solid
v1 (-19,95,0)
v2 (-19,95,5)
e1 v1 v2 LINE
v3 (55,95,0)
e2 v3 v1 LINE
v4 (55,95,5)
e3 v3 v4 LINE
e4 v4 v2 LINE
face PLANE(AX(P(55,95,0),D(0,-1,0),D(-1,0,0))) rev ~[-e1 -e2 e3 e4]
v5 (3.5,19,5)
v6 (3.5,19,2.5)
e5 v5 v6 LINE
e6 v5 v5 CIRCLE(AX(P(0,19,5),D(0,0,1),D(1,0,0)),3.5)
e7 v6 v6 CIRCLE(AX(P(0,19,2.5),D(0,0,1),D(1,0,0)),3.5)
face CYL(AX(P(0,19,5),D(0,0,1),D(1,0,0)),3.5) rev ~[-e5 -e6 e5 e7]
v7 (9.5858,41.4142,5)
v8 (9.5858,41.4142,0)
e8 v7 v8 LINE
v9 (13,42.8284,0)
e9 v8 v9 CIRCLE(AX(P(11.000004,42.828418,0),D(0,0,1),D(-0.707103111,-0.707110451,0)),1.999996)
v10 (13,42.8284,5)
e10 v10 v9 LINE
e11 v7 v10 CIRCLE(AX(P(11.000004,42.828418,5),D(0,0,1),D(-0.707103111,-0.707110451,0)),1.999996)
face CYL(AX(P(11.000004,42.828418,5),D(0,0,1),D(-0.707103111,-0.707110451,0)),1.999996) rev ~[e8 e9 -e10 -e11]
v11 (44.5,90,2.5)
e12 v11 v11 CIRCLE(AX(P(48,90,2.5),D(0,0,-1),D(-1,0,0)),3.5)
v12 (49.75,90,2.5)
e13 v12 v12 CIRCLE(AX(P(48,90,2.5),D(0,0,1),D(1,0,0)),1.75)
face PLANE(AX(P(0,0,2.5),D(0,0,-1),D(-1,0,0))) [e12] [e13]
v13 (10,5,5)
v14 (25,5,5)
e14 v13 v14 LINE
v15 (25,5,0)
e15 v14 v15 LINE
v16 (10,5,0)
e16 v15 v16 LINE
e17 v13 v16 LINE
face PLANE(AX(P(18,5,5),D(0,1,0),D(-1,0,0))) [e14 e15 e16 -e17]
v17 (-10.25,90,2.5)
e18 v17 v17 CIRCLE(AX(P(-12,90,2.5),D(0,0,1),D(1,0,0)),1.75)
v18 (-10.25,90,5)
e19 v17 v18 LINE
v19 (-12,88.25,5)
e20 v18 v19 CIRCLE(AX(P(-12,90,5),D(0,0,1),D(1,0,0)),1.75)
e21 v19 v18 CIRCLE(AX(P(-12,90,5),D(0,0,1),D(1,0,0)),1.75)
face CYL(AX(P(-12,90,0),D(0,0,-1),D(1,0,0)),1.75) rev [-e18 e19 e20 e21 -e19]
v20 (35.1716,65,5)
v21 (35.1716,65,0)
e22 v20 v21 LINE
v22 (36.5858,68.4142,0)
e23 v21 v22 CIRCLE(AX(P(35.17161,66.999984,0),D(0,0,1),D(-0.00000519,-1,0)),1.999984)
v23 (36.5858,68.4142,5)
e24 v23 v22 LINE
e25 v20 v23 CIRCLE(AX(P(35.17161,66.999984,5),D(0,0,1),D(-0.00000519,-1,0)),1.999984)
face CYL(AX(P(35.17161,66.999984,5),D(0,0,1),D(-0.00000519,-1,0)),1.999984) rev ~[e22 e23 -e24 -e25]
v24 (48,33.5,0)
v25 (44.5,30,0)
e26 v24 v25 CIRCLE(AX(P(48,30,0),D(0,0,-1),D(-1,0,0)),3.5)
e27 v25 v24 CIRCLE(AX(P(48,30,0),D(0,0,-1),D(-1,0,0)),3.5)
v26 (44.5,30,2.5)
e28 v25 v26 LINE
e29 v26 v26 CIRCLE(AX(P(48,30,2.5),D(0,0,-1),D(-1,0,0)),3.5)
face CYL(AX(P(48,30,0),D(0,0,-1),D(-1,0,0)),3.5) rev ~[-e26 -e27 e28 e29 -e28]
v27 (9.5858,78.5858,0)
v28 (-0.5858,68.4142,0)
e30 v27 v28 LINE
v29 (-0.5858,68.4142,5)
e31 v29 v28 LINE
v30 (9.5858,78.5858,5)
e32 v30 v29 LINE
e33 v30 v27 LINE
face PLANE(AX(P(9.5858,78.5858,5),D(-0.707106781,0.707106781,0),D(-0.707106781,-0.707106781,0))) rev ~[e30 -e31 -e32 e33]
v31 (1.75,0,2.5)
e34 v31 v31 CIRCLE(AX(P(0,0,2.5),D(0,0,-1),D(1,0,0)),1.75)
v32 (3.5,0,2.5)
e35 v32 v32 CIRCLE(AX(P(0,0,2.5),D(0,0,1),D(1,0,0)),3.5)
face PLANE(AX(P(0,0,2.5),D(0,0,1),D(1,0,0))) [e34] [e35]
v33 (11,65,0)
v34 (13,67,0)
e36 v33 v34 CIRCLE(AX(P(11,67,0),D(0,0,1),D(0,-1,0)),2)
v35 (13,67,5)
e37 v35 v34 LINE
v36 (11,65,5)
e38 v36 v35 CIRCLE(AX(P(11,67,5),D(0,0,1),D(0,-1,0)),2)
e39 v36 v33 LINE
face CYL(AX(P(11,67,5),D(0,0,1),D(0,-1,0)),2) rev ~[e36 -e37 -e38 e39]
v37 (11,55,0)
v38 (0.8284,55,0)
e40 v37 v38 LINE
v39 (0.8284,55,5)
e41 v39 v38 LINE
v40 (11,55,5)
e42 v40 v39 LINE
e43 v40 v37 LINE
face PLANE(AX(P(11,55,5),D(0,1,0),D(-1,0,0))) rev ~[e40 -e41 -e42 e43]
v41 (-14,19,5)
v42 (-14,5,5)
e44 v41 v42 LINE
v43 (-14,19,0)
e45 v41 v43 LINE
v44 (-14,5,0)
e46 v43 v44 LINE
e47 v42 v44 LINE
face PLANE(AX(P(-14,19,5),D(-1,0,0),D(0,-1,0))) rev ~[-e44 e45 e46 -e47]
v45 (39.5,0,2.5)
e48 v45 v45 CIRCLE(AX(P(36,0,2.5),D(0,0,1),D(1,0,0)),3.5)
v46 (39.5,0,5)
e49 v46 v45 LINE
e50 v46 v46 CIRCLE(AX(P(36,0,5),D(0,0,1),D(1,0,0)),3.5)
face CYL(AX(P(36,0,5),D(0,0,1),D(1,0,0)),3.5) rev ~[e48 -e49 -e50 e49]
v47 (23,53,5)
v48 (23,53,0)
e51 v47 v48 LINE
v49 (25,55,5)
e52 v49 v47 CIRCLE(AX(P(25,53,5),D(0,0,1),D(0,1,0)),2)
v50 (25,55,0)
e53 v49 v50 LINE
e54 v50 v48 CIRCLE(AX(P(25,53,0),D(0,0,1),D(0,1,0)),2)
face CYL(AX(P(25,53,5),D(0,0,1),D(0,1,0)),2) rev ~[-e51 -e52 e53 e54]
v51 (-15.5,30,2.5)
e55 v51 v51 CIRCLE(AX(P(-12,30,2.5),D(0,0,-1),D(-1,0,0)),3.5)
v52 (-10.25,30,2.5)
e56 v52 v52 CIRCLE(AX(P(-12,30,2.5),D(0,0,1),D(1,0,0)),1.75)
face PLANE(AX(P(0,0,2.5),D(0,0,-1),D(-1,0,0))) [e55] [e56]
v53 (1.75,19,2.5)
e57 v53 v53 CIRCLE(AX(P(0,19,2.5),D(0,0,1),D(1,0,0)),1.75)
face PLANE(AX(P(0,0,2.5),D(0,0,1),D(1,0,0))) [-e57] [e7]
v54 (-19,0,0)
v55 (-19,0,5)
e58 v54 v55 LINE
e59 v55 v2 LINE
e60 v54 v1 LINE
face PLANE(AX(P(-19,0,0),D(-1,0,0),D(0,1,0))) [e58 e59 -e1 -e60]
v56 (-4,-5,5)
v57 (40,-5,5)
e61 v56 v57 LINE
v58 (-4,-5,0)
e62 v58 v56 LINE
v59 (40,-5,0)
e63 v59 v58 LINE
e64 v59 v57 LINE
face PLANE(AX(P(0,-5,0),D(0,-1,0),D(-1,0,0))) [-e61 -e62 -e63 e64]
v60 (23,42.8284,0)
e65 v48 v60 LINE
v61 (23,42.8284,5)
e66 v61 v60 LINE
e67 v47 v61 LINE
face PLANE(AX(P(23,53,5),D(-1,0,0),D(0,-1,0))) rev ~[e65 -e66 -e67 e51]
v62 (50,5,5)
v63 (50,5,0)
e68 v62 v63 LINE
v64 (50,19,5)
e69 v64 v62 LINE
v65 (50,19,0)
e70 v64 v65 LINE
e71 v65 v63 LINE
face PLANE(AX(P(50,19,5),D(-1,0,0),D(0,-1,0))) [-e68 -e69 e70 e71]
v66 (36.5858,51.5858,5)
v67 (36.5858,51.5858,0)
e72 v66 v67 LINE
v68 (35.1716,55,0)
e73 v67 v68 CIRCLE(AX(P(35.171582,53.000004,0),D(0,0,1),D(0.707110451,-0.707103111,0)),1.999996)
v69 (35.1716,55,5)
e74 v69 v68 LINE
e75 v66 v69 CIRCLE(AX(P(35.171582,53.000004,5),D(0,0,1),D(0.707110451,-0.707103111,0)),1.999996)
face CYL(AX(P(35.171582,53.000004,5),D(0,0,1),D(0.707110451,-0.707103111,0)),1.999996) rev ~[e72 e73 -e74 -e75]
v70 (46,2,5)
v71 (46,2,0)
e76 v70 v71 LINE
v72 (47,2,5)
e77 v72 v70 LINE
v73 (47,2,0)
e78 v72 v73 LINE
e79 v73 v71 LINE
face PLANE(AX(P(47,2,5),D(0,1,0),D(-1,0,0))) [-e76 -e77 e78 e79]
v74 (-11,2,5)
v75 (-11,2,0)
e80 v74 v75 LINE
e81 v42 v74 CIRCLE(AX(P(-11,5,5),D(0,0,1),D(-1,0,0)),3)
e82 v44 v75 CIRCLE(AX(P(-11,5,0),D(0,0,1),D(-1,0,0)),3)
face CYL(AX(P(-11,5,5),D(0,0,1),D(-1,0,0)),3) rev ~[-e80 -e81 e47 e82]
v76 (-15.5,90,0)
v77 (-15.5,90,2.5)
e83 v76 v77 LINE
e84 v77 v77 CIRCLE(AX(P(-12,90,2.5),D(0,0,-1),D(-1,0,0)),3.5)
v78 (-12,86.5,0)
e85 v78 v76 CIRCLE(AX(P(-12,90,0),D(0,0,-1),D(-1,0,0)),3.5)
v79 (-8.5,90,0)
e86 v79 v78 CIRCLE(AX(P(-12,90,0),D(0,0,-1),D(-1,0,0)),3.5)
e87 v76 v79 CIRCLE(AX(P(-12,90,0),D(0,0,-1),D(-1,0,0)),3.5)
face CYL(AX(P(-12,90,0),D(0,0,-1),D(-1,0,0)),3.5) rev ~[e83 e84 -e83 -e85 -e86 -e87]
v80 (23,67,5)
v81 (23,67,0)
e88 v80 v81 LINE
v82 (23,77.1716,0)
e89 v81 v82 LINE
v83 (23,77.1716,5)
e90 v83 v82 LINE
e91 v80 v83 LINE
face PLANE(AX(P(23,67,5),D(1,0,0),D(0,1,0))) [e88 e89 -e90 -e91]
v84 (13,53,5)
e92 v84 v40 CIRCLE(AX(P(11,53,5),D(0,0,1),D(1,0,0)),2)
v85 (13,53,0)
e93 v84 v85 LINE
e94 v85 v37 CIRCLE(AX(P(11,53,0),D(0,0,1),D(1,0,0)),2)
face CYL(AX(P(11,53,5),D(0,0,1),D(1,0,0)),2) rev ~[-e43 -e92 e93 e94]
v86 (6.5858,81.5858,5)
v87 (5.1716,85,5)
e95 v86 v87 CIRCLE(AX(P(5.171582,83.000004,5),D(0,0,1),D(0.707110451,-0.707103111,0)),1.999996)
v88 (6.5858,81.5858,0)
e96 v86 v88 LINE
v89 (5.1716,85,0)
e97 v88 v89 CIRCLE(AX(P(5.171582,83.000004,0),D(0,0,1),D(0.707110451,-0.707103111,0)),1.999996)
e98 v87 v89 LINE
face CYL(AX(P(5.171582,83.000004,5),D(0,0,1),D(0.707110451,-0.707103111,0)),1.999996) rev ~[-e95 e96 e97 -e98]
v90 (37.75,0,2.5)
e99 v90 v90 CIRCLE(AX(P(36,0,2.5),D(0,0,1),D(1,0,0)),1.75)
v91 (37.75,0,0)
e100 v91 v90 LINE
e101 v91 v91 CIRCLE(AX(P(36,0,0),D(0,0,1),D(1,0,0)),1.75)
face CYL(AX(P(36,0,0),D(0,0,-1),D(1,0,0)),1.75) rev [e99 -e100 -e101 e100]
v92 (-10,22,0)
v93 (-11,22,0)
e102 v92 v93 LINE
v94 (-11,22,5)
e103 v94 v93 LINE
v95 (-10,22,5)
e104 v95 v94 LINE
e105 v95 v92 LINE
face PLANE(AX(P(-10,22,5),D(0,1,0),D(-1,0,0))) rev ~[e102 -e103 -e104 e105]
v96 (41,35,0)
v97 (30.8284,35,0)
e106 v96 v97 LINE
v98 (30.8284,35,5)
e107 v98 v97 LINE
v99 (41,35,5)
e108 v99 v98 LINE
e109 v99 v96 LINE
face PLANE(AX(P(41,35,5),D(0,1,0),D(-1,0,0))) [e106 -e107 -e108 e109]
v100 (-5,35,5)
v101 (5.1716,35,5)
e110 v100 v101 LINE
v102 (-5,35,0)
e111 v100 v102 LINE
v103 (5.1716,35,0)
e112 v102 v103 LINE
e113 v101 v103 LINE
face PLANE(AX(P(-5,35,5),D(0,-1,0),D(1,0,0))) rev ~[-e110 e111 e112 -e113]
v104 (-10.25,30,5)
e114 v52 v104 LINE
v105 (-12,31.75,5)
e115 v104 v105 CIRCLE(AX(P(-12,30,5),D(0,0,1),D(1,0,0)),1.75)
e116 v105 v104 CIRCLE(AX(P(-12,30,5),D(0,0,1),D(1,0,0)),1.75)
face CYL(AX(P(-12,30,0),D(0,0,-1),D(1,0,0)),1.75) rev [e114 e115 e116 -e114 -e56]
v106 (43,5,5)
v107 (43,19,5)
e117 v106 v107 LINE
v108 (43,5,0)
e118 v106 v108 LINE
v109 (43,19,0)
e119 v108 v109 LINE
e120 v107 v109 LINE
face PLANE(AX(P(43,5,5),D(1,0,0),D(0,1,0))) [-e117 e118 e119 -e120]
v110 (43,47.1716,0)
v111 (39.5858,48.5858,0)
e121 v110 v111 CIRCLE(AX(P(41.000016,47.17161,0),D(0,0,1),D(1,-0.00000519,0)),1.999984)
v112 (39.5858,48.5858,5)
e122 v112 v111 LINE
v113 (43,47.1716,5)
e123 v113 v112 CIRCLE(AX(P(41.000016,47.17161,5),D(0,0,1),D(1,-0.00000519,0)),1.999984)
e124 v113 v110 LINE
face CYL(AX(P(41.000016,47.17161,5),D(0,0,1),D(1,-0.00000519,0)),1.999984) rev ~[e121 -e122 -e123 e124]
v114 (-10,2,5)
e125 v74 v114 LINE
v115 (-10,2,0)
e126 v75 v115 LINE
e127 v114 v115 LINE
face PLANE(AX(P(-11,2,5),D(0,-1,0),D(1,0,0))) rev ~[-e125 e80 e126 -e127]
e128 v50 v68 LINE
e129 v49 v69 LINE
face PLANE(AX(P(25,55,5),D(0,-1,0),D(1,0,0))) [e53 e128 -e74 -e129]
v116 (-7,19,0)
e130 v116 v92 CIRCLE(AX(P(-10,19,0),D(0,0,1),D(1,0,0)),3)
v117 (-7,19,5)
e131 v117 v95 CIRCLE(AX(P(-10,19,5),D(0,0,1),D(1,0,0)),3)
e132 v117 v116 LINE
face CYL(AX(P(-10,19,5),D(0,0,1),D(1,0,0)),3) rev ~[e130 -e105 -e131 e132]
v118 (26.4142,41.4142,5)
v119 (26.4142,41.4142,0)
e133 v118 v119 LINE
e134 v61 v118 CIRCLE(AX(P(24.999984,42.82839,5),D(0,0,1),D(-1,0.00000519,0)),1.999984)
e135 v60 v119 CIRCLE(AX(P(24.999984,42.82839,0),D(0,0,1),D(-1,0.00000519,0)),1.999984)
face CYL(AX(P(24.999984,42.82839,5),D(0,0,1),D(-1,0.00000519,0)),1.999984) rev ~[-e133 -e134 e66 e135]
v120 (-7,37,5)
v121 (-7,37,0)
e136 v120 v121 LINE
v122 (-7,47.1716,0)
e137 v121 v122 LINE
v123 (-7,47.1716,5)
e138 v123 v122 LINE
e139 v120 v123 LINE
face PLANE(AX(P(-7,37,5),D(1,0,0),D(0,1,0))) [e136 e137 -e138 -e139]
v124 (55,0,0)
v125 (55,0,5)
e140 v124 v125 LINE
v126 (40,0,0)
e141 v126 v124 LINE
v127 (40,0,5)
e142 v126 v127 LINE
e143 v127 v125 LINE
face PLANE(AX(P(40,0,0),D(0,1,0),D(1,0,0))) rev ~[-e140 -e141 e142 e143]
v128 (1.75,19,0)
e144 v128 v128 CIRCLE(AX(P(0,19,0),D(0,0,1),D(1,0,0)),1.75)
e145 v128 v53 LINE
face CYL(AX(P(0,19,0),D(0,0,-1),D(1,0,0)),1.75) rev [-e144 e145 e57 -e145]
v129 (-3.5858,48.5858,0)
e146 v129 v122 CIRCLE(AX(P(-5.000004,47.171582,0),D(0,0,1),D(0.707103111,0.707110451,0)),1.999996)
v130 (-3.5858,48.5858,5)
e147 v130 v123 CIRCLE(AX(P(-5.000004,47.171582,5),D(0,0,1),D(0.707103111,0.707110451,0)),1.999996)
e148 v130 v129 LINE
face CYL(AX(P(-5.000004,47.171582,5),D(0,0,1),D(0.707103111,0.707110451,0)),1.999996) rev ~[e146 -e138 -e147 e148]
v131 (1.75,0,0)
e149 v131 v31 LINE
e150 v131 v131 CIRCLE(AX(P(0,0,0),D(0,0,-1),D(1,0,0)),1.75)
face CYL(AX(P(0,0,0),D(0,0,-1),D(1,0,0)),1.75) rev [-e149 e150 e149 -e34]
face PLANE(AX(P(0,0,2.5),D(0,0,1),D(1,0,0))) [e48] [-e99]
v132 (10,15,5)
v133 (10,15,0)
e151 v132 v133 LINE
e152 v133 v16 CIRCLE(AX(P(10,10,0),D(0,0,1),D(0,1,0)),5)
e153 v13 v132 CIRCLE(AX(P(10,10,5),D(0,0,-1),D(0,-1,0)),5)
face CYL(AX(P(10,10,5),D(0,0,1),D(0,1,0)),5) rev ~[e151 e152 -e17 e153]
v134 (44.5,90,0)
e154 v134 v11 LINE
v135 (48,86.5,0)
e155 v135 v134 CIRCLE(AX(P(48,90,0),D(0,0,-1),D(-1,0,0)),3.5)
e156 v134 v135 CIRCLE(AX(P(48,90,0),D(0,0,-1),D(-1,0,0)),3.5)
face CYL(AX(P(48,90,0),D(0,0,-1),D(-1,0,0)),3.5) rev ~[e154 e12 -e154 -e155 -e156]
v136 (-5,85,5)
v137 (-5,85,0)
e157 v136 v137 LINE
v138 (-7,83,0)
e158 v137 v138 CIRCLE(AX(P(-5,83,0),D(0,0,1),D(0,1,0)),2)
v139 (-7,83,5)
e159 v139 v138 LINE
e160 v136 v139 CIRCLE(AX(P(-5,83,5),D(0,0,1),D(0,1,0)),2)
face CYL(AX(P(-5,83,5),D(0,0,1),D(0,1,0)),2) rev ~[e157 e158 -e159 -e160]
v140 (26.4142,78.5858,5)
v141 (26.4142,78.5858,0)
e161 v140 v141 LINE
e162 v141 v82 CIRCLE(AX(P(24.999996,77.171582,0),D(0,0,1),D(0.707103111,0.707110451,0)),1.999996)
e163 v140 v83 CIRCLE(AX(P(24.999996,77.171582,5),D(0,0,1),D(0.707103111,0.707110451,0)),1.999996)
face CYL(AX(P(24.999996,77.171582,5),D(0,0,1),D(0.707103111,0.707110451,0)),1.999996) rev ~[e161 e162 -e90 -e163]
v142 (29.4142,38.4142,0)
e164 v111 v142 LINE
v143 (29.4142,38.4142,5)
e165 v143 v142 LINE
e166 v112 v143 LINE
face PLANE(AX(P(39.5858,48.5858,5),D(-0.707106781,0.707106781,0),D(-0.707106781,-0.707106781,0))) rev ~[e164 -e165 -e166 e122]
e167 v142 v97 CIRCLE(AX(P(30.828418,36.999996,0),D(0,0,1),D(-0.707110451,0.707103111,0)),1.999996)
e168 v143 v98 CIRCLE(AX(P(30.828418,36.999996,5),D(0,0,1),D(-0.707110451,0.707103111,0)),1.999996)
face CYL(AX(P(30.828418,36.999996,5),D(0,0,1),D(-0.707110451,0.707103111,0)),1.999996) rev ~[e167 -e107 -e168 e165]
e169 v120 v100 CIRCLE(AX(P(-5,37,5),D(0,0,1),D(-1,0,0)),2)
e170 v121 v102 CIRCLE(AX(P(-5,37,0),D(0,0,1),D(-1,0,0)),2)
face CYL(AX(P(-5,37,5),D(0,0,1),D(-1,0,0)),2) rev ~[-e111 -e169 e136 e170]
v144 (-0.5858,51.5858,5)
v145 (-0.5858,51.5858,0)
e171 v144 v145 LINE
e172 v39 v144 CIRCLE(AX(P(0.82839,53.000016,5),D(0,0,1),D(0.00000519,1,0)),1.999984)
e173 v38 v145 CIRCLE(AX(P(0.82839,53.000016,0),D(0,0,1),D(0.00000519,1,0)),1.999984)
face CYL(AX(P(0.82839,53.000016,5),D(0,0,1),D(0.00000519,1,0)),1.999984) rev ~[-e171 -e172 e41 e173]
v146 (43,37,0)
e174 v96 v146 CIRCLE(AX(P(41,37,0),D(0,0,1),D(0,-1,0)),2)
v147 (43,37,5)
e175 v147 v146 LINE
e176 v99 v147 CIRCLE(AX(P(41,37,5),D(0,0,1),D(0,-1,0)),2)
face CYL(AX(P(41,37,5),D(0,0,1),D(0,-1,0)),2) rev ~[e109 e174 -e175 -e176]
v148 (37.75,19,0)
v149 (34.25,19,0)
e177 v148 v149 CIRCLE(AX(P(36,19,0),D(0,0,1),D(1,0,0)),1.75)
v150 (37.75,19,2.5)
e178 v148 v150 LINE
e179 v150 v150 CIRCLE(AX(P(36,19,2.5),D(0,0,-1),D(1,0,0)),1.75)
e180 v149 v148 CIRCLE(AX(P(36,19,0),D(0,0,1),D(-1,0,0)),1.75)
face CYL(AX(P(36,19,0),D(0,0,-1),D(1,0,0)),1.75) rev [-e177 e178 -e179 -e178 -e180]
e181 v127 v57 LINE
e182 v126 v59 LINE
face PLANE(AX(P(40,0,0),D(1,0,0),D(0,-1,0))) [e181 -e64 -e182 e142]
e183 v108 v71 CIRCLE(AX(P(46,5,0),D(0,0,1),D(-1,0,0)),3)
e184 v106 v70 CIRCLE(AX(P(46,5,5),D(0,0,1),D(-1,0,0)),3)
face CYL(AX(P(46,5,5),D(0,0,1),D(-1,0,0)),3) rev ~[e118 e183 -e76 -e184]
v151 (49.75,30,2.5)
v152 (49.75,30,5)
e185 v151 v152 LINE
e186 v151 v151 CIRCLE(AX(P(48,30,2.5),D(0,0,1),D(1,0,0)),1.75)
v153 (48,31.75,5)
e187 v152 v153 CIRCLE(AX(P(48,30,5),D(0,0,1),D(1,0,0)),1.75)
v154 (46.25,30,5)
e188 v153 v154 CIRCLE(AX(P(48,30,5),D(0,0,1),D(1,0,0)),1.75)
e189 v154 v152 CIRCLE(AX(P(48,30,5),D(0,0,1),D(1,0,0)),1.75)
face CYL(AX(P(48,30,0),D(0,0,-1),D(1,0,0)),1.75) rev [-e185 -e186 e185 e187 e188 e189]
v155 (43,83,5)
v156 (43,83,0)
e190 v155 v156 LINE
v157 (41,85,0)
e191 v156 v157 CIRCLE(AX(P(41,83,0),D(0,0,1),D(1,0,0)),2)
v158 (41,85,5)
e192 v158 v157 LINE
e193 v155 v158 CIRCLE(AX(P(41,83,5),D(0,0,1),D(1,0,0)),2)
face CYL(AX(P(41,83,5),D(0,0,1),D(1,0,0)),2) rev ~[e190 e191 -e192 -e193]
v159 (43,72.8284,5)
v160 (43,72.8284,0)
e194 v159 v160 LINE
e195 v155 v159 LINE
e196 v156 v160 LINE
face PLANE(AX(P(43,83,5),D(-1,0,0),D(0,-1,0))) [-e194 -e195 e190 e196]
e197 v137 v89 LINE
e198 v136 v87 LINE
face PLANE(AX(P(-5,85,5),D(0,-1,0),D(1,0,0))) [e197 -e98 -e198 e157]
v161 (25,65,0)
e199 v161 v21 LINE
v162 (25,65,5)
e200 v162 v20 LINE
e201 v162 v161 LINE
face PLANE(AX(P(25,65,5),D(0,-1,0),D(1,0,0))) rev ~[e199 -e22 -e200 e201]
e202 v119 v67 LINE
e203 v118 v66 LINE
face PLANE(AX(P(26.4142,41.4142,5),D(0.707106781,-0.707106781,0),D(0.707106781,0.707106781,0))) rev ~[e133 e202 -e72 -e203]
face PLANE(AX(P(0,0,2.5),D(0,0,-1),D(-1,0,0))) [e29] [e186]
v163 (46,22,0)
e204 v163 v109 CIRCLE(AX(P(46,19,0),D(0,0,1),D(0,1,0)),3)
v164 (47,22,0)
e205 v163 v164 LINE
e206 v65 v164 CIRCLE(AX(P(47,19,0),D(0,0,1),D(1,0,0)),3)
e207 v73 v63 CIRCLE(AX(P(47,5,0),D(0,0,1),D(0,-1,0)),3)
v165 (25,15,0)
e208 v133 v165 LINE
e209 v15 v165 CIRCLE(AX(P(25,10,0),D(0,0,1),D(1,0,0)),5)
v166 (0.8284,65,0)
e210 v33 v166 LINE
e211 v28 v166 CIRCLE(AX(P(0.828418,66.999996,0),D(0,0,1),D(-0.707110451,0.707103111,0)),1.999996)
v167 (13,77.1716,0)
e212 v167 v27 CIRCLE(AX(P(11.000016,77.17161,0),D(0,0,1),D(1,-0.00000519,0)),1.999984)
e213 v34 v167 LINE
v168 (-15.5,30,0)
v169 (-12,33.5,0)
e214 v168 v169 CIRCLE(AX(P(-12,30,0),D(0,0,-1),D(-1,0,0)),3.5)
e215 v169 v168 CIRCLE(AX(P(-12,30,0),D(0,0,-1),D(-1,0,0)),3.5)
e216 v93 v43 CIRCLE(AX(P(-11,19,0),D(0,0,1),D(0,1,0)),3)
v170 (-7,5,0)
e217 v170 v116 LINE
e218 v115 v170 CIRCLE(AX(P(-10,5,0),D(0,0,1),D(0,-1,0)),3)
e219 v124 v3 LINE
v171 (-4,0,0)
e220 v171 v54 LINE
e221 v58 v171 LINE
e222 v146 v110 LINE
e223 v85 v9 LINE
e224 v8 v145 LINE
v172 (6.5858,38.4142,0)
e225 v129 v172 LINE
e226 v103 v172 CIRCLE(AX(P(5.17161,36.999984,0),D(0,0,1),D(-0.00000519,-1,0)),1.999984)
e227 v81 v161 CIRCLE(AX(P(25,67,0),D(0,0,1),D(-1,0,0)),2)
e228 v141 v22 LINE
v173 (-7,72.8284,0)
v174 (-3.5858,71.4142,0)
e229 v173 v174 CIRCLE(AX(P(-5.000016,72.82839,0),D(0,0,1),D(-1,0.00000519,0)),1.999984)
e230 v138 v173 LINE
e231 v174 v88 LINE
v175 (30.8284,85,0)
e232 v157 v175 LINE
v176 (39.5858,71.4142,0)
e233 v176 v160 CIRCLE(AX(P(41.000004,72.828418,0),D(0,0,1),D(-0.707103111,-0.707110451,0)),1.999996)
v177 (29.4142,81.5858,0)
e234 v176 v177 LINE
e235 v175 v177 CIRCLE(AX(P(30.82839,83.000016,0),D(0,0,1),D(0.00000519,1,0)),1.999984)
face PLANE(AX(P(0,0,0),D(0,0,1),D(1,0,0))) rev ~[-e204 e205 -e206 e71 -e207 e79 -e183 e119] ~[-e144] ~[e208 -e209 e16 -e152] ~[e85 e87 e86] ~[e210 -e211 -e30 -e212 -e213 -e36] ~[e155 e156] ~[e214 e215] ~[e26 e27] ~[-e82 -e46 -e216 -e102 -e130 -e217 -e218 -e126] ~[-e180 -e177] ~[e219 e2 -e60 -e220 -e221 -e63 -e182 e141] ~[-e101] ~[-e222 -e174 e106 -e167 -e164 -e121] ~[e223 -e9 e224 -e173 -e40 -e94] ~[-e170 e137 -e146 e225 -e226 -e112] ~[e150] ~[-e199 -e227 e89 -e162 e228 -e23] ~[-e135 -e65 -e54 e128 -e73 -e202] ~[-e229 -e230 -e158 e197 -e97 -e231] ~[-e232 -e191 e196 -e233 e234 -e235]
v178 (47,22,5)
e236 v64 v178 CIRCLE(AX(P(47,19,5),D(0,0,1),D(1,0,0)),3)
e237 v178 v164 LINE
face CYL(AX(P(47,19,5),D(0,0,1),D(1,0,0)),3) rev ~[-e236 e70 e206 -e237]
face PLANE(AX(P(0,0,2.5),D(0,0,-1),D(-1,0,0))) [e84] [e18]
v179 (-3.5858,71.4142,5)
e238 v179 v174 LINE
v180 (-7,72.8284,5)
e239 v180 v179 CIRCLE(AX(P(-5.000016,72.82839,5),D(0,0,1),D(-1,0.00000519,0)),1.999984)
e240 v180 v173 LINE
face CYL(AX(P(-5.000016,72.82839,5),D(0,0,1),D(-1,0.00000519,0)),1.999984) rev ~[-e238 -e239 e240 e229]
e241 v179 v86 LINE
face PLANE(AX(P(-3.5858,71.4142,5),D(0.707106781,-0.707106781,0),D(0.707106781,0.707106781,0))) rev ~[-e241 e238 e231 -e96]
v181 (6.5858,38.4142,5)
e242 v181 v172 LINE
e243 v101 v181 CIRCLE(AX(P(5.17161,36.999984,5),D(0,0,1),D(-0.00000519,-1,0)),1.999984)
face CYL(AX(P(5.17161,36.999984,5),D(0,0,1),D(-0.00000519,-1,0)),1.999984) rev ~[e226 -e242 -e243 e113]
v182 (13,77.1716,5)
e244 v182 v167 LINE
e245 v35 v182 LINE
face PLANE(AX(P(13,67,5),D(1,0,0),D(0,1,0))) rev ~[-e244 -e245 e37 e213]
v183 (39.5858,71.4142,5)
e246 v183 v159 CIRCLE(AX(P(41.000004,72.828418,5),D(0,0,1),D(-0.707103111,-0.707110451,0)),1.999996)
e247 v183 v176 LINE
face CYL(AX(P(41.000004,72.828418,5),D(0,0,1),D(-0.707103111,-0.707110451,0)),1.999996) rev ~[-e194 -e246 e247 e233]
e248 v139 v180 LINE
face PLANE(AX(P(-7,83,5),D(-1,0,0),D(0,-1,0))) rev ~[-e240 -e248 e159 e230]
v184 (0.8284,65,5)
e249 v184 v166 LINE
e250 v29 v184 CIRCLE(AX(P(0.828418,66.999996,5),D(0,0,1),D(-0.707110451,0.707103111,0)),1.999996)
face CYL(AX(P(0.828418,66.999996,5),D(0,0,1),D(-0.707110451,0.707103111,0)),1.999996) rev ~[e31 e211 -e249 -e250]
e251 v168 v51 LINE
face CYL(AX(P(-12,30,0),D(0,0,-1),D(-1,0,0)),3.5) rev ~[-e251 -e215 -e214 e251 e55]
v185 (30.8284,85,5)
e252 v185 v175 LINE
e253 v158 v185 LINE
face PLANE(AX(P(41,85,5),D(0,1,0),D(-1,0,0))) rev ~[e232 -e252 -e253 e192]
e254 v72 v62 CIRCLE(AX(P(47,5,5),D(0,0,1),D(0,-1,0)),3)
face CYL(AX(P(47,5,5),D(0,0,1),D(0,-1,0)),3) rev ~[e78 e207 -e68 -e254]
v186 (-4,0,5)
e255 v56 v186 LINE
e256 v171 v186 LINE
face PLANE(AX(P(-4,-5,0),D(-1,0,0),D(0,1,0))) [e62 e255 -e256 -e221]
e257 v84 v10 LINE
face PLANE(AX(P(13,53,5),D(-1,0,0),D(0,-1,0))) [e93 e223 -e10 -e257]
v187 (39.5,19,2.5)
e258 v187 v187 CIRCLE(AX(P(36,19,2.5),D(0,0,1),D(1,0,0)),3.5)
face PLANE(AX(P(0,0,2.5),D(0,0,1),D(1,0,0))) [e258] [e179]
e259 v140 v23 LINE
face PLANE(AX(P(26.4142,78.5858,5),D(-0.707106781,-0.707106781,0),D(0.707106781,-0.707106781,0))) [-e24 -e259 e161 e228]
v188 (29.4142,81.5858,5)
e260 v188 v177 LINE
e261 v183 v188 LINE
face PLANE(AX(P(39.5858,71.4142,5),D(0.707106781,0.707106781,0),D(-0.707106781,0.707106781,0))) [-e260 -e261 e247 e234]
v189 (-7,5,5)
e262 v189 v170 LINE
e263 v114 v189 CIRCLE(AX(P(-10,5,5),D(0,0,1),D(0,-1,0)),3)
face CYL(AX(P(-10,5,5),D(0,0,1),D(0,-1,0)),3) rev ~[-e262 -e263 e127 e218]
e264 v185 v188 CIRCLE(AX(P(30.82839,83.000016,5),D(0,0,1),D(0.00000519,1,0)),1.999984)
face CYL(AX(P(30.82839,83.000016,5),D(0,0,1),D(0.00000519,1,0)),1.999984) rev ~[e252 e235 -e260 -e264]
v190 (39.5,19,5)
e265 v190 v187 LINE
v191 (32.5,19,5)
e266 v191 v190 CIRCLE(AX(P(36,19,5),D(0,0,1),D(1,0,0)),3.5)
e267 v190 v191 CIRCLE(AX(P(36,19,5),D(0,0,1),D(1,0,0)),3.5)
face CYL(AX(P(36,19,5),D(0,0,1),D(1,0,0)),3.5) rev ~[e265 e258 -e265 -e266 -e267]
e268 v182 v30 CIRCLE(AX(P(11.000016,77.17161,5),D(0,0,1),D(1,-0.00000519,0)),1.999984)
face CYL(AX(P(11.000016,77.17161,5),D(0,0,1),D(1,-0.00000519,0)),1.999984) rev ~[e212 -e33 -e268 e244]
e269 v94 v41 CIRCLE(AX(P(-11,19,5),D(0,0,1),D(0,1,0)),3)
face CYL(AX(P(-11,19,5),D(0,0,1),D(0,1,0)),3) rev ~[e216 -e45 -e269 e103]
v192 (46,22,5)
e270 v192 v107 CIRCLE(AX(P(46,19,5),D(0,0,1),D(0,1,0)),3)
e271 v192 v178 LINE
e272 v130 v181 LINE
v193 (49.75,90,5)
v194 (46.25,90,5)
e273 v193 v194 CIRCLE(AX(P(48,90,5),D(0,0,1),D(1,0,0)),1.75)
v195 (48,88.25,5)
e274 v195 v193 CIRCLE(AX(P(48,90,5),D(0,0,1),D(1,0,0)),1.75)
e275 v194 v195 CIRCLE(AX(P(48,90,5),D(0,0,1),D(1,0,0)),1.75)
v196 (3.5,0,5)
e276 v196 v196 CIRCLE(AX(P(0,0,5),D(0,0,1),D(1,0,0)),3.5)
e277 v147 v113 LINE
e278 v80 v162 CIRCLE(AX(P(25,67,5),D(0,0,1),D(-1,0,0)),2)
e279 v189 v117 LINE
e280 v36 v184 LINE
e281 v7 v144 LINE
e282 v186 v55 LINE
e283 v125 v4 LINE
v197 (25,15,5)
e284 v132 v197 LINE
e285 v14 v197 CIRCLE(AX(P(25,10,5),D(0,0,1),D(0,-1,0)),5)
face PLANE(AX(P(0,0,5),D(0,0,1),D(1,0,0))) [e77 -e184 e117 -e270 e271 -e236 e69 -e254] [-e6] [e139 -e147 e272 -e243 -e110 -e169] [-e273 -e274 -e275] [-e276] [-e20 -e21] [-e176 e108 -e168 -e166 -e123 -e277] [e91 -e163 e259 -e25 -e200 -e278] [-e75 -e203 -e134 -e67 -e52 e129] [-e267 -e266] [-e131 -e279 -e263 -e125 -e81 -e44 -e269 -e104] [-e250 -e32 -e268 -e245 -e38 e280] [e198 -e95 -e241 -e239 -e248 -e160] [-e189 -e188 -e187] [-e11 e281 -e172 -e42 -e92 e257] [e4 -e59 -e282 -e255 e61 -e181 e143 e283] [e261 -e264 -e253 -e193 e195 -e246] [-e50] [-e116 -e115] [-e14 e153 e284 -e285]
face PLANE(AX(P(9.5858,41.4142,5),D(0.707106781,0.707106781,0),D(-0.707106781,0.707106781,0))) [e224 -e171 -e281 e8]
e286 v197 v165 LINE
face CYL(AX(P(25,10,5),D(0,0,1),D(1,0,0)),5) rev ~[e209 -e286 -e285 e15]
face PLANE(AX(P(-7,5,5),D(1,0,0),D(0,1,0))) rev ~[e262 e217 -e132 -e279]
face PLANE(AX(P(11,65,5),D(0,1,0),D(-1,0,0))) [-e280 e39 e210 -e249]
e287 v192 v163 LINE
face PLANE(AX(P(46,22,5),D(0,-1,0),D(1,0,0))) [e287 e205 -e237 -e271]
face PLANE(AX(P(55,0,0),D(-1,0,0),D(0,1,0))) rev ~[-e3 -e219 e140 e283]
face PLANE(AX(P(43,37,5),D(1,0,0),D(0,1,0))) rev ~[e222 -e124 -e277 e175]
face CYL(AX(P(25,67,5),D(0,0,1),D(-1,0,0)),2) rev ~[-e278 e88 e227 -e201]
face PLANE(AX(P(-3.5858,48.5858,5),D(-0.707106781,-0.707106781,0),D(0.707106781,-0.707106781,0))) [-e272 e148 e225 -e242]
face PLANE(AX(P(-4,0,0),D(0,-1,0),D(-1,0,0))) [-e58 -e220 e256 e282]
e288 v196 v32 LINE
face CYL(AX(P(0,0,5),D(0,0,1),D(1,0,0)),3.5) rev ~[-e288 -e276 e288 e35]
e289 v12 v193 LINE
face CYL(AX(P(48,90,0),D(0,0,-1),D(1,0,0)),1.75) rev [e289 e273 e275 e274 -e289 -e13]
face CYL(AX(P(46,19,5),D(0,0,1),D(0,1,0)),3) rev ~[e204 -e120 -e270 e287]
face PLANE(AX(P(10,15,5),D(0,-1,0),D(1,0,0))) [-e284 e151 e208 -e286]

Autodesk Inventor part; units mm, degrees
ref_plane "YZ Plane" through (0, 0, 0) normal (1, 0, 0) x (0, 1, 0)
ref_plane "XZ Plane" through (0, 0, 0) normal (0, 1, 0) x (-1, 0, 0)
ref_plane "XY Plane" through (0, 0, 0) normal (0, 0, 1) x (1, 0, 0)
sketch "Sketch1" plane through (0, 0, 0) normal (0, 0, 1) x (1, 0, 0)
  line L0 (0, 0) -> (36, 0)
  line L1 (36, 0) -> (36, 19)
  line L2 (36, 19) -> (0, 19)
  circle A0 centre (0, 19) radius 1.75
  circle A1 centre (0, 0) radius 1.75
  circle A2 centre (36, 0) radius 1.75
  circle A3 centre (36, 19) radius 1.75
  line L3 (0, 0) -> (0, -5)
  line L4 (0, -5) -> (40, -5)
  line L5 (0, -5) -> (-4, -5)
  line L6 (-4, -5) -> (-4, 25)
  line L7 (-4, 25) -> (40, 25)
  line L8 (40, 25) -> (40, -5)
  line L9 (36, 0) -> (36, 30)
  line L10 (36, 30) -> (0, 30)
  line L11 (18, 30) -> (48, 30)
  line L12 (48, 30) -> (48, 90)
  line L13 (48, 90) -> (-12, 90)
  line L14 (-12, 90) -> (-12, 30)
  line L15 (-4, 0) -> (-19, 0)
  line L16 (-19, 0) -> (-19, 95)
  line L17 (40, 0) -> (55, 0)
  line L18 (55, 0) -> (55, 95)
  line L19 (55, 95) -> (-19, 95)
  circle A4 centre (-12, 90) radius 1.75
  circle A5 centre (48, 90) radius 1.75
  circle A6 centre (-12, 30) radius 1.75
  circle A7 centre (48, 30) radius 1.75
  dimension "d0" = 36
  dimension "d1" = 19
  dimension "d2" = 3.5
  dimension "d3" = 3.5
  dimension "d4" = 3.5
  dimension "d5" = 3.5
  dimension "d6" = 5
  dimension "d7" = 40
  dimension "d8" = 4
  dimension "d9" = 30
  dimension "d10" = 30
  dimension "d11" = 30
  dimension "d12" = 60
  dimension "d13" = 60
  dimension "d14" = 15
  dimension "d15" = 95
  dimension "d16" = 15
  dimension "d17" = 3.5
  dimension "d18" = 3.5
  dimension "d19" = 3.5
  dimension "d20" = 3.5
extrude "Extrusion1" add sketch "Sketch1" along normal blind 5 contours A1 L3 L5 L6 L7 L9 A3 L1 A2 L0 | L0 A2 L1 A3 L9 L7 L8 L4 L3 A1 | L8 L7 L6 L15 L16 L19 L18 L17
sketch "Sketch2" plane through (0, 0, 5) normal (0, 0, 1) x (1, 0, 0)
  circle A0 centre (0, 19) radius 1.75 projected
  circle A1 centre (0, 19) radius 3.5
  circle A2 centre (0, 0) radius 3.5
  circle A3 centre (36, 0) radius 1.75 projected
  circle A4 centre (36, 0) radius 3.5
  circle A5 centre (36, 19) radius 3.5
  dimension "d23" = 7
  dimension "d24" = 7
  dimension "d25" = 7
  dimension "d26" = 7
extrude "Extrusion2" cut sketch "Sketch2" against normal blind 2.5
sketch "Sketch3" plane through (0, 0, 0) normal (0, 0, -1) x (-1, 0, 0)
  circle A0 centre (-48, 30) radius 1.75 projected
  circle A1 centre (-48, 30) radius 3.5
  circle A2 centre (-48, 90) radius 1.75 projected
  circle A3 centre (-48, 90) radius 3.5
  circle A4 centre (12, 90) radius 1.75 projected
  circle A5 centre (12, 90) radius 3.5
  circle A6 centre (12, 30) radius 1.75 projected
  circle A7 centre (12, 30) radius 3.5
  point P0 (0, 0)
  dimension "d29" = 7
  dimension "d30" = 7
  dimension "d31" = 7
  dimension "d32" = 7
extrude "Extrusion3" cut sketch "Sketch3" against normal blind 2.5
sketch "Sketch5" plane through (0, 0, 5) normal (0, 0, 1) x (1, 0, 0)
  circle A0 centre (0, 0) radius 1.75 projected
  line L0 (0, 0) -> (0, 5)
  line L1 (0, 5) -> (5, 5)
  line L2 (5, 10) -> (5, 10)
  line L3 (10, 15) -> (25, 15)
  line L4 (30, 10) -> (30, 10)
  line L5 (25, 5) -> (10, 5)
  arc A1 (10, 15) -> (5, 10) centre (10, 10) ccw
  arc A2 (5, 10) -> (10, 5) centre (10, 10) ccw
  arc A3 (30, 10) -> (25, 15) centre (25, 10) ccw
  arc A4 (25, 5) -> (30, 10) centre (25, 10) ccw
  line L6 (-19, 0) -> (-14, 0)
  line L7 (-19, 0) -> (-4, 0) projected
  line L8 (-14, 0) -> (-14, 2)
  line L9 (-11, 2) -> (-10, 2)
  line L10 (-7, 5) -> (-7, 19)
  line L11 (-10, 22) -> (-11, 22)
  line L12 (-14, 19) -> (-14, 5)
  line L13 (-4, -5) -> (40, -5) projected
  line L14 (18, -5) -> (18, 1)
  arc A5 (-11, 22) -> (-14, 19) centre (-11, 19) ccw
  arc A6 (-7, 19) -> (-10, 22) centre (-10, 19) ccw
  arc A7 (-10, 2) -> (-7, 5) centre (-10, 5) ccw
  arc A8 (-14, 5) -> (-11, 2) centre (-11, 5) ccw
  line L15 (47, 2) -> (46, 2)
  line L16 (43, 5) -> (43, 19)
  line L17 (46, 22) -> (47, 22)
  line L18 (50, 19) -> (50, 5)
  arc A9 (50, 19) -> (47, 22) centre (47, 19) ccw
  arc A10 (46, 22) -> (43, 19) centre (46, 19) ccw
  arc A11 (43, 5) -> (46, 2) centre (46, 5) ccw
  arc A12 (47, 2) -> (50, 5) centre (47, 5) ccw
  line L19 (18, 0) -> (18, 95)
  line L20 (55, 95) -> (-19, 95) projected
  circle A13 centre (-12, 30) radius 1.75 projected
  circle A14 centre (-12, 90) radius 1.75 projected
  line L21 (-12, 30) -> (-12, 90)
  line L22 (-12, 60) -> (18, 60)
  line L23 (-12, 90) -> (18, 90)
  circle A15 centre (-12, 90) radius 3.5 projected
  line L24 (-12, 90) -> (-7, 90)
  line L25 (-7, 90) -> (-7, 85)
  line L26 (-5, 85) -> (5.1716, 85)
  line L27 (-7, 83) -> (-7, 72.8284)
  line L28 (-3.5858, 71.4142) -> (6.5858, 81.5858)
  line L29 (18, 60) -> (18, 65)
  line L30 (18, 65) -> (13, 65)
  line L31 (11, 65) -> (0.8284, 65)
  line L32 (13, 67) -> (13, 77.1716)
  line L33 (9.5858, 78.5858) -> (-0.5858, 68.4142)
  arc A16 (6.5858, 81.5858) -> (5.1716, 85) centre (5.1716, 83) ccw
  arc A17 (-5, 85) -> (-7, 83) centre (-5, 83) ccw
  arc A18 (-7, 72.8284) -> (-3.5858, 71.4142) centre (-5, 72.8284) ccw
  arc A19 (-0.5858, 68.4142) -> (0.8284, 65) centre (0.8284, 67) ccw
  arc A20 (13, 77.1716) -> (9.5858, 78.5858) centre (11, 77.1716) ccw
  arc A21 (11, 65) -> (13, 67) centre (11, 67) ccw
  circle A22 centre (-12, 30) radius 3.5
  line L34 (-5, 35) -> (5.1716, 35)
  line L35 (-7, 37) -> (-7, 47.1716)
  line L36 (-3.5858, 48.5858) -> (6.5858, 38.4142)
  line L37 (11, 55) -> (0.8284, 55)
  line L38 (13, 53) -> (13, 42.8284)
  line L39 (9.5858, 41.4142) -> (-0.5858, 51.5858)
  arc A23 (5.1716, 35) -> (6.5858, 38.4142) centre (5.1716, 37) ccw
  arc A24 (-7, 37) -> (-5, 35) centre (-5, 37) ccw
  arc A25 (-3.5858, 48.5858) -> (-7, 47.1716) centre (-5, 47.1716) ccw
  arc A26 (0.8284, 55) -> (-0.5858, 51.5858) centre (0.8284, 53) ccw
  arc A27 (9.5858, 41.4142) -> (13, 42.8284) centre (11, 42.8284) ccw
  arc A28 (13, 53) -> (11, 55) centre (11, 53) ccw
  line L40 (41, 85) -> (30.8284, 85)
  line L41 (43, 83) -> (43, 72.8284)
  line L42 (39.5858, 71.4142) -> (29.4142, 81.5858)
  line L43 (25, 65) -> (35.1716, 65)
  line L44 (23, 67) -> (23, 77.1716)
  line L45 (26.4142, 78.5858) -> (36.5858, 68.4142)
  arc A29 (30.8284, 85) -> (29.4142, 81.5858) centre (30.8284, 83) ccw
  arc A30 (43, 83) -> (41, 85) centre (41, 83) ccw
  arc A31 (39.5858, 71.4142) -> (43, 72.8284) centre (41, 72.8284) ccw
  arc A32 (35.1716, 65) -> (36.5858, 68.4142) centre (35.1716, 67) ccw
  arc A33 (26.4142, 78.5858) -> (23, 77.1716) centre (25, 77.1716) ccw
  arc A34 (23, 67) -> (25, 65) centre (25, 67) ccw
  line L46 (43, 37) -> (43, 47.1716)
  arc A35 (41, 35) -> (43, 37) centre (41, 37) ccw
  arc A36 (43, 47.1716) -> (39.5858, 48.5858) centre (41, 47.1716) ccw
  line L47 (39.5858, 48.5858) -> (29.4142, 38.4142)
  line L48 (26.4142, 41.4142) -> (36.5858, 51.5858)
  line L49 (25, 55) -> (35.1716, 55)
  line L50 (23, 53) -> (23, 42.8284)
  line L51 (41, 35) -> (30.8284, 35)
  arc A37 (29.4142, 38.4142) -> (30.8284, 35) centre (30.8284, 37) ccw
  arc A38 (23, 42.8284) -> (26.4142, 41.4142) centre (25, 42.8284) ccw
  arc A39 (36.5858, 51.5858) -> (35.1716, 55) centre (35.1716, 53) ccw
  arc A40 (25, 55) -> (23, 53) centre (25, 53) ccw
  point P0 (5, 15)
  point P1 (30, 15)
  point P2 (30, 5)
  point P3 (-7, 2)
  point P4 (-7, 22)
  point P5 (-14, 22)
  point P6 (50, 2)
  point P7 (43, 2)
  point P8 (43, 22)
  point P9 (50, 22)
  point P10 (10, 85)
  point P11 (-7, 68)
  point P12 (-4, 65)
  point P13 (13, 82)
  point P14 (-7, 35)
  point P15 (10, 35)
  point P16 (-7, 52)
  point P17 (13, 55)
  point P18 (-4, 55)
  point P19 (13, 38)
  point P20 (43, 85)
  point P21 (26, 85)
  point P22 (43, 68)
  point P23 (23, 65)
  point P24 (40, 65)
  point P25 (23, 82)
  point P26 (26, 35)
  point P27 (23, 38)
  point P28 (43, 52)
  point P29 (40, 55)
  point P30 (43, 35)
  point P31 (23, 55)
  dimension "d40" = 5
  dimension "d41" = 5
  dimension "d42" = 10
  dimension "d43" = 25
  dimension "d44" = 5
  dimension "d45" = 5
  dimension "d46" = 2
  dimension "d47" = 7
  dimension "d48" = 20
  dimension "d49" = 3
  dimension "d50" = 5
  dimension "d51" = 5
  dimension "d52" = 17
  dimension "d53" = 17
  dimension "d54" = 5
  dimension "d55" = 5
  dimension "d56" = 17
  dimension "d57" = 17
  dimension "d58" = 2
extrude "Extrusion5" cut sketch "Sketch5" against normal through all contours L3 L19 L5 A2 A1 | L3 A3 A4 L5 L19 | A8 L12 A5 L11 A6 L10 A7 L9 | L15 A11 L16 A10 L17 A9 L18 A12 | L26 A16 L28 A18 L27 A17 | L31 A19 L33 A20 L32 A21 | A24 L35 A25 L36 A23 L34 | A28 L38 A27 L39 A26 L37 | A30 L41 A31 L42 A29 L40 | A34 L44 A33 L45 A32 L43 | A35 L51 A37 L47 A36 L46 | A38 L50 A40 L49 A39 L48
properties part number "nuccase_hold"
